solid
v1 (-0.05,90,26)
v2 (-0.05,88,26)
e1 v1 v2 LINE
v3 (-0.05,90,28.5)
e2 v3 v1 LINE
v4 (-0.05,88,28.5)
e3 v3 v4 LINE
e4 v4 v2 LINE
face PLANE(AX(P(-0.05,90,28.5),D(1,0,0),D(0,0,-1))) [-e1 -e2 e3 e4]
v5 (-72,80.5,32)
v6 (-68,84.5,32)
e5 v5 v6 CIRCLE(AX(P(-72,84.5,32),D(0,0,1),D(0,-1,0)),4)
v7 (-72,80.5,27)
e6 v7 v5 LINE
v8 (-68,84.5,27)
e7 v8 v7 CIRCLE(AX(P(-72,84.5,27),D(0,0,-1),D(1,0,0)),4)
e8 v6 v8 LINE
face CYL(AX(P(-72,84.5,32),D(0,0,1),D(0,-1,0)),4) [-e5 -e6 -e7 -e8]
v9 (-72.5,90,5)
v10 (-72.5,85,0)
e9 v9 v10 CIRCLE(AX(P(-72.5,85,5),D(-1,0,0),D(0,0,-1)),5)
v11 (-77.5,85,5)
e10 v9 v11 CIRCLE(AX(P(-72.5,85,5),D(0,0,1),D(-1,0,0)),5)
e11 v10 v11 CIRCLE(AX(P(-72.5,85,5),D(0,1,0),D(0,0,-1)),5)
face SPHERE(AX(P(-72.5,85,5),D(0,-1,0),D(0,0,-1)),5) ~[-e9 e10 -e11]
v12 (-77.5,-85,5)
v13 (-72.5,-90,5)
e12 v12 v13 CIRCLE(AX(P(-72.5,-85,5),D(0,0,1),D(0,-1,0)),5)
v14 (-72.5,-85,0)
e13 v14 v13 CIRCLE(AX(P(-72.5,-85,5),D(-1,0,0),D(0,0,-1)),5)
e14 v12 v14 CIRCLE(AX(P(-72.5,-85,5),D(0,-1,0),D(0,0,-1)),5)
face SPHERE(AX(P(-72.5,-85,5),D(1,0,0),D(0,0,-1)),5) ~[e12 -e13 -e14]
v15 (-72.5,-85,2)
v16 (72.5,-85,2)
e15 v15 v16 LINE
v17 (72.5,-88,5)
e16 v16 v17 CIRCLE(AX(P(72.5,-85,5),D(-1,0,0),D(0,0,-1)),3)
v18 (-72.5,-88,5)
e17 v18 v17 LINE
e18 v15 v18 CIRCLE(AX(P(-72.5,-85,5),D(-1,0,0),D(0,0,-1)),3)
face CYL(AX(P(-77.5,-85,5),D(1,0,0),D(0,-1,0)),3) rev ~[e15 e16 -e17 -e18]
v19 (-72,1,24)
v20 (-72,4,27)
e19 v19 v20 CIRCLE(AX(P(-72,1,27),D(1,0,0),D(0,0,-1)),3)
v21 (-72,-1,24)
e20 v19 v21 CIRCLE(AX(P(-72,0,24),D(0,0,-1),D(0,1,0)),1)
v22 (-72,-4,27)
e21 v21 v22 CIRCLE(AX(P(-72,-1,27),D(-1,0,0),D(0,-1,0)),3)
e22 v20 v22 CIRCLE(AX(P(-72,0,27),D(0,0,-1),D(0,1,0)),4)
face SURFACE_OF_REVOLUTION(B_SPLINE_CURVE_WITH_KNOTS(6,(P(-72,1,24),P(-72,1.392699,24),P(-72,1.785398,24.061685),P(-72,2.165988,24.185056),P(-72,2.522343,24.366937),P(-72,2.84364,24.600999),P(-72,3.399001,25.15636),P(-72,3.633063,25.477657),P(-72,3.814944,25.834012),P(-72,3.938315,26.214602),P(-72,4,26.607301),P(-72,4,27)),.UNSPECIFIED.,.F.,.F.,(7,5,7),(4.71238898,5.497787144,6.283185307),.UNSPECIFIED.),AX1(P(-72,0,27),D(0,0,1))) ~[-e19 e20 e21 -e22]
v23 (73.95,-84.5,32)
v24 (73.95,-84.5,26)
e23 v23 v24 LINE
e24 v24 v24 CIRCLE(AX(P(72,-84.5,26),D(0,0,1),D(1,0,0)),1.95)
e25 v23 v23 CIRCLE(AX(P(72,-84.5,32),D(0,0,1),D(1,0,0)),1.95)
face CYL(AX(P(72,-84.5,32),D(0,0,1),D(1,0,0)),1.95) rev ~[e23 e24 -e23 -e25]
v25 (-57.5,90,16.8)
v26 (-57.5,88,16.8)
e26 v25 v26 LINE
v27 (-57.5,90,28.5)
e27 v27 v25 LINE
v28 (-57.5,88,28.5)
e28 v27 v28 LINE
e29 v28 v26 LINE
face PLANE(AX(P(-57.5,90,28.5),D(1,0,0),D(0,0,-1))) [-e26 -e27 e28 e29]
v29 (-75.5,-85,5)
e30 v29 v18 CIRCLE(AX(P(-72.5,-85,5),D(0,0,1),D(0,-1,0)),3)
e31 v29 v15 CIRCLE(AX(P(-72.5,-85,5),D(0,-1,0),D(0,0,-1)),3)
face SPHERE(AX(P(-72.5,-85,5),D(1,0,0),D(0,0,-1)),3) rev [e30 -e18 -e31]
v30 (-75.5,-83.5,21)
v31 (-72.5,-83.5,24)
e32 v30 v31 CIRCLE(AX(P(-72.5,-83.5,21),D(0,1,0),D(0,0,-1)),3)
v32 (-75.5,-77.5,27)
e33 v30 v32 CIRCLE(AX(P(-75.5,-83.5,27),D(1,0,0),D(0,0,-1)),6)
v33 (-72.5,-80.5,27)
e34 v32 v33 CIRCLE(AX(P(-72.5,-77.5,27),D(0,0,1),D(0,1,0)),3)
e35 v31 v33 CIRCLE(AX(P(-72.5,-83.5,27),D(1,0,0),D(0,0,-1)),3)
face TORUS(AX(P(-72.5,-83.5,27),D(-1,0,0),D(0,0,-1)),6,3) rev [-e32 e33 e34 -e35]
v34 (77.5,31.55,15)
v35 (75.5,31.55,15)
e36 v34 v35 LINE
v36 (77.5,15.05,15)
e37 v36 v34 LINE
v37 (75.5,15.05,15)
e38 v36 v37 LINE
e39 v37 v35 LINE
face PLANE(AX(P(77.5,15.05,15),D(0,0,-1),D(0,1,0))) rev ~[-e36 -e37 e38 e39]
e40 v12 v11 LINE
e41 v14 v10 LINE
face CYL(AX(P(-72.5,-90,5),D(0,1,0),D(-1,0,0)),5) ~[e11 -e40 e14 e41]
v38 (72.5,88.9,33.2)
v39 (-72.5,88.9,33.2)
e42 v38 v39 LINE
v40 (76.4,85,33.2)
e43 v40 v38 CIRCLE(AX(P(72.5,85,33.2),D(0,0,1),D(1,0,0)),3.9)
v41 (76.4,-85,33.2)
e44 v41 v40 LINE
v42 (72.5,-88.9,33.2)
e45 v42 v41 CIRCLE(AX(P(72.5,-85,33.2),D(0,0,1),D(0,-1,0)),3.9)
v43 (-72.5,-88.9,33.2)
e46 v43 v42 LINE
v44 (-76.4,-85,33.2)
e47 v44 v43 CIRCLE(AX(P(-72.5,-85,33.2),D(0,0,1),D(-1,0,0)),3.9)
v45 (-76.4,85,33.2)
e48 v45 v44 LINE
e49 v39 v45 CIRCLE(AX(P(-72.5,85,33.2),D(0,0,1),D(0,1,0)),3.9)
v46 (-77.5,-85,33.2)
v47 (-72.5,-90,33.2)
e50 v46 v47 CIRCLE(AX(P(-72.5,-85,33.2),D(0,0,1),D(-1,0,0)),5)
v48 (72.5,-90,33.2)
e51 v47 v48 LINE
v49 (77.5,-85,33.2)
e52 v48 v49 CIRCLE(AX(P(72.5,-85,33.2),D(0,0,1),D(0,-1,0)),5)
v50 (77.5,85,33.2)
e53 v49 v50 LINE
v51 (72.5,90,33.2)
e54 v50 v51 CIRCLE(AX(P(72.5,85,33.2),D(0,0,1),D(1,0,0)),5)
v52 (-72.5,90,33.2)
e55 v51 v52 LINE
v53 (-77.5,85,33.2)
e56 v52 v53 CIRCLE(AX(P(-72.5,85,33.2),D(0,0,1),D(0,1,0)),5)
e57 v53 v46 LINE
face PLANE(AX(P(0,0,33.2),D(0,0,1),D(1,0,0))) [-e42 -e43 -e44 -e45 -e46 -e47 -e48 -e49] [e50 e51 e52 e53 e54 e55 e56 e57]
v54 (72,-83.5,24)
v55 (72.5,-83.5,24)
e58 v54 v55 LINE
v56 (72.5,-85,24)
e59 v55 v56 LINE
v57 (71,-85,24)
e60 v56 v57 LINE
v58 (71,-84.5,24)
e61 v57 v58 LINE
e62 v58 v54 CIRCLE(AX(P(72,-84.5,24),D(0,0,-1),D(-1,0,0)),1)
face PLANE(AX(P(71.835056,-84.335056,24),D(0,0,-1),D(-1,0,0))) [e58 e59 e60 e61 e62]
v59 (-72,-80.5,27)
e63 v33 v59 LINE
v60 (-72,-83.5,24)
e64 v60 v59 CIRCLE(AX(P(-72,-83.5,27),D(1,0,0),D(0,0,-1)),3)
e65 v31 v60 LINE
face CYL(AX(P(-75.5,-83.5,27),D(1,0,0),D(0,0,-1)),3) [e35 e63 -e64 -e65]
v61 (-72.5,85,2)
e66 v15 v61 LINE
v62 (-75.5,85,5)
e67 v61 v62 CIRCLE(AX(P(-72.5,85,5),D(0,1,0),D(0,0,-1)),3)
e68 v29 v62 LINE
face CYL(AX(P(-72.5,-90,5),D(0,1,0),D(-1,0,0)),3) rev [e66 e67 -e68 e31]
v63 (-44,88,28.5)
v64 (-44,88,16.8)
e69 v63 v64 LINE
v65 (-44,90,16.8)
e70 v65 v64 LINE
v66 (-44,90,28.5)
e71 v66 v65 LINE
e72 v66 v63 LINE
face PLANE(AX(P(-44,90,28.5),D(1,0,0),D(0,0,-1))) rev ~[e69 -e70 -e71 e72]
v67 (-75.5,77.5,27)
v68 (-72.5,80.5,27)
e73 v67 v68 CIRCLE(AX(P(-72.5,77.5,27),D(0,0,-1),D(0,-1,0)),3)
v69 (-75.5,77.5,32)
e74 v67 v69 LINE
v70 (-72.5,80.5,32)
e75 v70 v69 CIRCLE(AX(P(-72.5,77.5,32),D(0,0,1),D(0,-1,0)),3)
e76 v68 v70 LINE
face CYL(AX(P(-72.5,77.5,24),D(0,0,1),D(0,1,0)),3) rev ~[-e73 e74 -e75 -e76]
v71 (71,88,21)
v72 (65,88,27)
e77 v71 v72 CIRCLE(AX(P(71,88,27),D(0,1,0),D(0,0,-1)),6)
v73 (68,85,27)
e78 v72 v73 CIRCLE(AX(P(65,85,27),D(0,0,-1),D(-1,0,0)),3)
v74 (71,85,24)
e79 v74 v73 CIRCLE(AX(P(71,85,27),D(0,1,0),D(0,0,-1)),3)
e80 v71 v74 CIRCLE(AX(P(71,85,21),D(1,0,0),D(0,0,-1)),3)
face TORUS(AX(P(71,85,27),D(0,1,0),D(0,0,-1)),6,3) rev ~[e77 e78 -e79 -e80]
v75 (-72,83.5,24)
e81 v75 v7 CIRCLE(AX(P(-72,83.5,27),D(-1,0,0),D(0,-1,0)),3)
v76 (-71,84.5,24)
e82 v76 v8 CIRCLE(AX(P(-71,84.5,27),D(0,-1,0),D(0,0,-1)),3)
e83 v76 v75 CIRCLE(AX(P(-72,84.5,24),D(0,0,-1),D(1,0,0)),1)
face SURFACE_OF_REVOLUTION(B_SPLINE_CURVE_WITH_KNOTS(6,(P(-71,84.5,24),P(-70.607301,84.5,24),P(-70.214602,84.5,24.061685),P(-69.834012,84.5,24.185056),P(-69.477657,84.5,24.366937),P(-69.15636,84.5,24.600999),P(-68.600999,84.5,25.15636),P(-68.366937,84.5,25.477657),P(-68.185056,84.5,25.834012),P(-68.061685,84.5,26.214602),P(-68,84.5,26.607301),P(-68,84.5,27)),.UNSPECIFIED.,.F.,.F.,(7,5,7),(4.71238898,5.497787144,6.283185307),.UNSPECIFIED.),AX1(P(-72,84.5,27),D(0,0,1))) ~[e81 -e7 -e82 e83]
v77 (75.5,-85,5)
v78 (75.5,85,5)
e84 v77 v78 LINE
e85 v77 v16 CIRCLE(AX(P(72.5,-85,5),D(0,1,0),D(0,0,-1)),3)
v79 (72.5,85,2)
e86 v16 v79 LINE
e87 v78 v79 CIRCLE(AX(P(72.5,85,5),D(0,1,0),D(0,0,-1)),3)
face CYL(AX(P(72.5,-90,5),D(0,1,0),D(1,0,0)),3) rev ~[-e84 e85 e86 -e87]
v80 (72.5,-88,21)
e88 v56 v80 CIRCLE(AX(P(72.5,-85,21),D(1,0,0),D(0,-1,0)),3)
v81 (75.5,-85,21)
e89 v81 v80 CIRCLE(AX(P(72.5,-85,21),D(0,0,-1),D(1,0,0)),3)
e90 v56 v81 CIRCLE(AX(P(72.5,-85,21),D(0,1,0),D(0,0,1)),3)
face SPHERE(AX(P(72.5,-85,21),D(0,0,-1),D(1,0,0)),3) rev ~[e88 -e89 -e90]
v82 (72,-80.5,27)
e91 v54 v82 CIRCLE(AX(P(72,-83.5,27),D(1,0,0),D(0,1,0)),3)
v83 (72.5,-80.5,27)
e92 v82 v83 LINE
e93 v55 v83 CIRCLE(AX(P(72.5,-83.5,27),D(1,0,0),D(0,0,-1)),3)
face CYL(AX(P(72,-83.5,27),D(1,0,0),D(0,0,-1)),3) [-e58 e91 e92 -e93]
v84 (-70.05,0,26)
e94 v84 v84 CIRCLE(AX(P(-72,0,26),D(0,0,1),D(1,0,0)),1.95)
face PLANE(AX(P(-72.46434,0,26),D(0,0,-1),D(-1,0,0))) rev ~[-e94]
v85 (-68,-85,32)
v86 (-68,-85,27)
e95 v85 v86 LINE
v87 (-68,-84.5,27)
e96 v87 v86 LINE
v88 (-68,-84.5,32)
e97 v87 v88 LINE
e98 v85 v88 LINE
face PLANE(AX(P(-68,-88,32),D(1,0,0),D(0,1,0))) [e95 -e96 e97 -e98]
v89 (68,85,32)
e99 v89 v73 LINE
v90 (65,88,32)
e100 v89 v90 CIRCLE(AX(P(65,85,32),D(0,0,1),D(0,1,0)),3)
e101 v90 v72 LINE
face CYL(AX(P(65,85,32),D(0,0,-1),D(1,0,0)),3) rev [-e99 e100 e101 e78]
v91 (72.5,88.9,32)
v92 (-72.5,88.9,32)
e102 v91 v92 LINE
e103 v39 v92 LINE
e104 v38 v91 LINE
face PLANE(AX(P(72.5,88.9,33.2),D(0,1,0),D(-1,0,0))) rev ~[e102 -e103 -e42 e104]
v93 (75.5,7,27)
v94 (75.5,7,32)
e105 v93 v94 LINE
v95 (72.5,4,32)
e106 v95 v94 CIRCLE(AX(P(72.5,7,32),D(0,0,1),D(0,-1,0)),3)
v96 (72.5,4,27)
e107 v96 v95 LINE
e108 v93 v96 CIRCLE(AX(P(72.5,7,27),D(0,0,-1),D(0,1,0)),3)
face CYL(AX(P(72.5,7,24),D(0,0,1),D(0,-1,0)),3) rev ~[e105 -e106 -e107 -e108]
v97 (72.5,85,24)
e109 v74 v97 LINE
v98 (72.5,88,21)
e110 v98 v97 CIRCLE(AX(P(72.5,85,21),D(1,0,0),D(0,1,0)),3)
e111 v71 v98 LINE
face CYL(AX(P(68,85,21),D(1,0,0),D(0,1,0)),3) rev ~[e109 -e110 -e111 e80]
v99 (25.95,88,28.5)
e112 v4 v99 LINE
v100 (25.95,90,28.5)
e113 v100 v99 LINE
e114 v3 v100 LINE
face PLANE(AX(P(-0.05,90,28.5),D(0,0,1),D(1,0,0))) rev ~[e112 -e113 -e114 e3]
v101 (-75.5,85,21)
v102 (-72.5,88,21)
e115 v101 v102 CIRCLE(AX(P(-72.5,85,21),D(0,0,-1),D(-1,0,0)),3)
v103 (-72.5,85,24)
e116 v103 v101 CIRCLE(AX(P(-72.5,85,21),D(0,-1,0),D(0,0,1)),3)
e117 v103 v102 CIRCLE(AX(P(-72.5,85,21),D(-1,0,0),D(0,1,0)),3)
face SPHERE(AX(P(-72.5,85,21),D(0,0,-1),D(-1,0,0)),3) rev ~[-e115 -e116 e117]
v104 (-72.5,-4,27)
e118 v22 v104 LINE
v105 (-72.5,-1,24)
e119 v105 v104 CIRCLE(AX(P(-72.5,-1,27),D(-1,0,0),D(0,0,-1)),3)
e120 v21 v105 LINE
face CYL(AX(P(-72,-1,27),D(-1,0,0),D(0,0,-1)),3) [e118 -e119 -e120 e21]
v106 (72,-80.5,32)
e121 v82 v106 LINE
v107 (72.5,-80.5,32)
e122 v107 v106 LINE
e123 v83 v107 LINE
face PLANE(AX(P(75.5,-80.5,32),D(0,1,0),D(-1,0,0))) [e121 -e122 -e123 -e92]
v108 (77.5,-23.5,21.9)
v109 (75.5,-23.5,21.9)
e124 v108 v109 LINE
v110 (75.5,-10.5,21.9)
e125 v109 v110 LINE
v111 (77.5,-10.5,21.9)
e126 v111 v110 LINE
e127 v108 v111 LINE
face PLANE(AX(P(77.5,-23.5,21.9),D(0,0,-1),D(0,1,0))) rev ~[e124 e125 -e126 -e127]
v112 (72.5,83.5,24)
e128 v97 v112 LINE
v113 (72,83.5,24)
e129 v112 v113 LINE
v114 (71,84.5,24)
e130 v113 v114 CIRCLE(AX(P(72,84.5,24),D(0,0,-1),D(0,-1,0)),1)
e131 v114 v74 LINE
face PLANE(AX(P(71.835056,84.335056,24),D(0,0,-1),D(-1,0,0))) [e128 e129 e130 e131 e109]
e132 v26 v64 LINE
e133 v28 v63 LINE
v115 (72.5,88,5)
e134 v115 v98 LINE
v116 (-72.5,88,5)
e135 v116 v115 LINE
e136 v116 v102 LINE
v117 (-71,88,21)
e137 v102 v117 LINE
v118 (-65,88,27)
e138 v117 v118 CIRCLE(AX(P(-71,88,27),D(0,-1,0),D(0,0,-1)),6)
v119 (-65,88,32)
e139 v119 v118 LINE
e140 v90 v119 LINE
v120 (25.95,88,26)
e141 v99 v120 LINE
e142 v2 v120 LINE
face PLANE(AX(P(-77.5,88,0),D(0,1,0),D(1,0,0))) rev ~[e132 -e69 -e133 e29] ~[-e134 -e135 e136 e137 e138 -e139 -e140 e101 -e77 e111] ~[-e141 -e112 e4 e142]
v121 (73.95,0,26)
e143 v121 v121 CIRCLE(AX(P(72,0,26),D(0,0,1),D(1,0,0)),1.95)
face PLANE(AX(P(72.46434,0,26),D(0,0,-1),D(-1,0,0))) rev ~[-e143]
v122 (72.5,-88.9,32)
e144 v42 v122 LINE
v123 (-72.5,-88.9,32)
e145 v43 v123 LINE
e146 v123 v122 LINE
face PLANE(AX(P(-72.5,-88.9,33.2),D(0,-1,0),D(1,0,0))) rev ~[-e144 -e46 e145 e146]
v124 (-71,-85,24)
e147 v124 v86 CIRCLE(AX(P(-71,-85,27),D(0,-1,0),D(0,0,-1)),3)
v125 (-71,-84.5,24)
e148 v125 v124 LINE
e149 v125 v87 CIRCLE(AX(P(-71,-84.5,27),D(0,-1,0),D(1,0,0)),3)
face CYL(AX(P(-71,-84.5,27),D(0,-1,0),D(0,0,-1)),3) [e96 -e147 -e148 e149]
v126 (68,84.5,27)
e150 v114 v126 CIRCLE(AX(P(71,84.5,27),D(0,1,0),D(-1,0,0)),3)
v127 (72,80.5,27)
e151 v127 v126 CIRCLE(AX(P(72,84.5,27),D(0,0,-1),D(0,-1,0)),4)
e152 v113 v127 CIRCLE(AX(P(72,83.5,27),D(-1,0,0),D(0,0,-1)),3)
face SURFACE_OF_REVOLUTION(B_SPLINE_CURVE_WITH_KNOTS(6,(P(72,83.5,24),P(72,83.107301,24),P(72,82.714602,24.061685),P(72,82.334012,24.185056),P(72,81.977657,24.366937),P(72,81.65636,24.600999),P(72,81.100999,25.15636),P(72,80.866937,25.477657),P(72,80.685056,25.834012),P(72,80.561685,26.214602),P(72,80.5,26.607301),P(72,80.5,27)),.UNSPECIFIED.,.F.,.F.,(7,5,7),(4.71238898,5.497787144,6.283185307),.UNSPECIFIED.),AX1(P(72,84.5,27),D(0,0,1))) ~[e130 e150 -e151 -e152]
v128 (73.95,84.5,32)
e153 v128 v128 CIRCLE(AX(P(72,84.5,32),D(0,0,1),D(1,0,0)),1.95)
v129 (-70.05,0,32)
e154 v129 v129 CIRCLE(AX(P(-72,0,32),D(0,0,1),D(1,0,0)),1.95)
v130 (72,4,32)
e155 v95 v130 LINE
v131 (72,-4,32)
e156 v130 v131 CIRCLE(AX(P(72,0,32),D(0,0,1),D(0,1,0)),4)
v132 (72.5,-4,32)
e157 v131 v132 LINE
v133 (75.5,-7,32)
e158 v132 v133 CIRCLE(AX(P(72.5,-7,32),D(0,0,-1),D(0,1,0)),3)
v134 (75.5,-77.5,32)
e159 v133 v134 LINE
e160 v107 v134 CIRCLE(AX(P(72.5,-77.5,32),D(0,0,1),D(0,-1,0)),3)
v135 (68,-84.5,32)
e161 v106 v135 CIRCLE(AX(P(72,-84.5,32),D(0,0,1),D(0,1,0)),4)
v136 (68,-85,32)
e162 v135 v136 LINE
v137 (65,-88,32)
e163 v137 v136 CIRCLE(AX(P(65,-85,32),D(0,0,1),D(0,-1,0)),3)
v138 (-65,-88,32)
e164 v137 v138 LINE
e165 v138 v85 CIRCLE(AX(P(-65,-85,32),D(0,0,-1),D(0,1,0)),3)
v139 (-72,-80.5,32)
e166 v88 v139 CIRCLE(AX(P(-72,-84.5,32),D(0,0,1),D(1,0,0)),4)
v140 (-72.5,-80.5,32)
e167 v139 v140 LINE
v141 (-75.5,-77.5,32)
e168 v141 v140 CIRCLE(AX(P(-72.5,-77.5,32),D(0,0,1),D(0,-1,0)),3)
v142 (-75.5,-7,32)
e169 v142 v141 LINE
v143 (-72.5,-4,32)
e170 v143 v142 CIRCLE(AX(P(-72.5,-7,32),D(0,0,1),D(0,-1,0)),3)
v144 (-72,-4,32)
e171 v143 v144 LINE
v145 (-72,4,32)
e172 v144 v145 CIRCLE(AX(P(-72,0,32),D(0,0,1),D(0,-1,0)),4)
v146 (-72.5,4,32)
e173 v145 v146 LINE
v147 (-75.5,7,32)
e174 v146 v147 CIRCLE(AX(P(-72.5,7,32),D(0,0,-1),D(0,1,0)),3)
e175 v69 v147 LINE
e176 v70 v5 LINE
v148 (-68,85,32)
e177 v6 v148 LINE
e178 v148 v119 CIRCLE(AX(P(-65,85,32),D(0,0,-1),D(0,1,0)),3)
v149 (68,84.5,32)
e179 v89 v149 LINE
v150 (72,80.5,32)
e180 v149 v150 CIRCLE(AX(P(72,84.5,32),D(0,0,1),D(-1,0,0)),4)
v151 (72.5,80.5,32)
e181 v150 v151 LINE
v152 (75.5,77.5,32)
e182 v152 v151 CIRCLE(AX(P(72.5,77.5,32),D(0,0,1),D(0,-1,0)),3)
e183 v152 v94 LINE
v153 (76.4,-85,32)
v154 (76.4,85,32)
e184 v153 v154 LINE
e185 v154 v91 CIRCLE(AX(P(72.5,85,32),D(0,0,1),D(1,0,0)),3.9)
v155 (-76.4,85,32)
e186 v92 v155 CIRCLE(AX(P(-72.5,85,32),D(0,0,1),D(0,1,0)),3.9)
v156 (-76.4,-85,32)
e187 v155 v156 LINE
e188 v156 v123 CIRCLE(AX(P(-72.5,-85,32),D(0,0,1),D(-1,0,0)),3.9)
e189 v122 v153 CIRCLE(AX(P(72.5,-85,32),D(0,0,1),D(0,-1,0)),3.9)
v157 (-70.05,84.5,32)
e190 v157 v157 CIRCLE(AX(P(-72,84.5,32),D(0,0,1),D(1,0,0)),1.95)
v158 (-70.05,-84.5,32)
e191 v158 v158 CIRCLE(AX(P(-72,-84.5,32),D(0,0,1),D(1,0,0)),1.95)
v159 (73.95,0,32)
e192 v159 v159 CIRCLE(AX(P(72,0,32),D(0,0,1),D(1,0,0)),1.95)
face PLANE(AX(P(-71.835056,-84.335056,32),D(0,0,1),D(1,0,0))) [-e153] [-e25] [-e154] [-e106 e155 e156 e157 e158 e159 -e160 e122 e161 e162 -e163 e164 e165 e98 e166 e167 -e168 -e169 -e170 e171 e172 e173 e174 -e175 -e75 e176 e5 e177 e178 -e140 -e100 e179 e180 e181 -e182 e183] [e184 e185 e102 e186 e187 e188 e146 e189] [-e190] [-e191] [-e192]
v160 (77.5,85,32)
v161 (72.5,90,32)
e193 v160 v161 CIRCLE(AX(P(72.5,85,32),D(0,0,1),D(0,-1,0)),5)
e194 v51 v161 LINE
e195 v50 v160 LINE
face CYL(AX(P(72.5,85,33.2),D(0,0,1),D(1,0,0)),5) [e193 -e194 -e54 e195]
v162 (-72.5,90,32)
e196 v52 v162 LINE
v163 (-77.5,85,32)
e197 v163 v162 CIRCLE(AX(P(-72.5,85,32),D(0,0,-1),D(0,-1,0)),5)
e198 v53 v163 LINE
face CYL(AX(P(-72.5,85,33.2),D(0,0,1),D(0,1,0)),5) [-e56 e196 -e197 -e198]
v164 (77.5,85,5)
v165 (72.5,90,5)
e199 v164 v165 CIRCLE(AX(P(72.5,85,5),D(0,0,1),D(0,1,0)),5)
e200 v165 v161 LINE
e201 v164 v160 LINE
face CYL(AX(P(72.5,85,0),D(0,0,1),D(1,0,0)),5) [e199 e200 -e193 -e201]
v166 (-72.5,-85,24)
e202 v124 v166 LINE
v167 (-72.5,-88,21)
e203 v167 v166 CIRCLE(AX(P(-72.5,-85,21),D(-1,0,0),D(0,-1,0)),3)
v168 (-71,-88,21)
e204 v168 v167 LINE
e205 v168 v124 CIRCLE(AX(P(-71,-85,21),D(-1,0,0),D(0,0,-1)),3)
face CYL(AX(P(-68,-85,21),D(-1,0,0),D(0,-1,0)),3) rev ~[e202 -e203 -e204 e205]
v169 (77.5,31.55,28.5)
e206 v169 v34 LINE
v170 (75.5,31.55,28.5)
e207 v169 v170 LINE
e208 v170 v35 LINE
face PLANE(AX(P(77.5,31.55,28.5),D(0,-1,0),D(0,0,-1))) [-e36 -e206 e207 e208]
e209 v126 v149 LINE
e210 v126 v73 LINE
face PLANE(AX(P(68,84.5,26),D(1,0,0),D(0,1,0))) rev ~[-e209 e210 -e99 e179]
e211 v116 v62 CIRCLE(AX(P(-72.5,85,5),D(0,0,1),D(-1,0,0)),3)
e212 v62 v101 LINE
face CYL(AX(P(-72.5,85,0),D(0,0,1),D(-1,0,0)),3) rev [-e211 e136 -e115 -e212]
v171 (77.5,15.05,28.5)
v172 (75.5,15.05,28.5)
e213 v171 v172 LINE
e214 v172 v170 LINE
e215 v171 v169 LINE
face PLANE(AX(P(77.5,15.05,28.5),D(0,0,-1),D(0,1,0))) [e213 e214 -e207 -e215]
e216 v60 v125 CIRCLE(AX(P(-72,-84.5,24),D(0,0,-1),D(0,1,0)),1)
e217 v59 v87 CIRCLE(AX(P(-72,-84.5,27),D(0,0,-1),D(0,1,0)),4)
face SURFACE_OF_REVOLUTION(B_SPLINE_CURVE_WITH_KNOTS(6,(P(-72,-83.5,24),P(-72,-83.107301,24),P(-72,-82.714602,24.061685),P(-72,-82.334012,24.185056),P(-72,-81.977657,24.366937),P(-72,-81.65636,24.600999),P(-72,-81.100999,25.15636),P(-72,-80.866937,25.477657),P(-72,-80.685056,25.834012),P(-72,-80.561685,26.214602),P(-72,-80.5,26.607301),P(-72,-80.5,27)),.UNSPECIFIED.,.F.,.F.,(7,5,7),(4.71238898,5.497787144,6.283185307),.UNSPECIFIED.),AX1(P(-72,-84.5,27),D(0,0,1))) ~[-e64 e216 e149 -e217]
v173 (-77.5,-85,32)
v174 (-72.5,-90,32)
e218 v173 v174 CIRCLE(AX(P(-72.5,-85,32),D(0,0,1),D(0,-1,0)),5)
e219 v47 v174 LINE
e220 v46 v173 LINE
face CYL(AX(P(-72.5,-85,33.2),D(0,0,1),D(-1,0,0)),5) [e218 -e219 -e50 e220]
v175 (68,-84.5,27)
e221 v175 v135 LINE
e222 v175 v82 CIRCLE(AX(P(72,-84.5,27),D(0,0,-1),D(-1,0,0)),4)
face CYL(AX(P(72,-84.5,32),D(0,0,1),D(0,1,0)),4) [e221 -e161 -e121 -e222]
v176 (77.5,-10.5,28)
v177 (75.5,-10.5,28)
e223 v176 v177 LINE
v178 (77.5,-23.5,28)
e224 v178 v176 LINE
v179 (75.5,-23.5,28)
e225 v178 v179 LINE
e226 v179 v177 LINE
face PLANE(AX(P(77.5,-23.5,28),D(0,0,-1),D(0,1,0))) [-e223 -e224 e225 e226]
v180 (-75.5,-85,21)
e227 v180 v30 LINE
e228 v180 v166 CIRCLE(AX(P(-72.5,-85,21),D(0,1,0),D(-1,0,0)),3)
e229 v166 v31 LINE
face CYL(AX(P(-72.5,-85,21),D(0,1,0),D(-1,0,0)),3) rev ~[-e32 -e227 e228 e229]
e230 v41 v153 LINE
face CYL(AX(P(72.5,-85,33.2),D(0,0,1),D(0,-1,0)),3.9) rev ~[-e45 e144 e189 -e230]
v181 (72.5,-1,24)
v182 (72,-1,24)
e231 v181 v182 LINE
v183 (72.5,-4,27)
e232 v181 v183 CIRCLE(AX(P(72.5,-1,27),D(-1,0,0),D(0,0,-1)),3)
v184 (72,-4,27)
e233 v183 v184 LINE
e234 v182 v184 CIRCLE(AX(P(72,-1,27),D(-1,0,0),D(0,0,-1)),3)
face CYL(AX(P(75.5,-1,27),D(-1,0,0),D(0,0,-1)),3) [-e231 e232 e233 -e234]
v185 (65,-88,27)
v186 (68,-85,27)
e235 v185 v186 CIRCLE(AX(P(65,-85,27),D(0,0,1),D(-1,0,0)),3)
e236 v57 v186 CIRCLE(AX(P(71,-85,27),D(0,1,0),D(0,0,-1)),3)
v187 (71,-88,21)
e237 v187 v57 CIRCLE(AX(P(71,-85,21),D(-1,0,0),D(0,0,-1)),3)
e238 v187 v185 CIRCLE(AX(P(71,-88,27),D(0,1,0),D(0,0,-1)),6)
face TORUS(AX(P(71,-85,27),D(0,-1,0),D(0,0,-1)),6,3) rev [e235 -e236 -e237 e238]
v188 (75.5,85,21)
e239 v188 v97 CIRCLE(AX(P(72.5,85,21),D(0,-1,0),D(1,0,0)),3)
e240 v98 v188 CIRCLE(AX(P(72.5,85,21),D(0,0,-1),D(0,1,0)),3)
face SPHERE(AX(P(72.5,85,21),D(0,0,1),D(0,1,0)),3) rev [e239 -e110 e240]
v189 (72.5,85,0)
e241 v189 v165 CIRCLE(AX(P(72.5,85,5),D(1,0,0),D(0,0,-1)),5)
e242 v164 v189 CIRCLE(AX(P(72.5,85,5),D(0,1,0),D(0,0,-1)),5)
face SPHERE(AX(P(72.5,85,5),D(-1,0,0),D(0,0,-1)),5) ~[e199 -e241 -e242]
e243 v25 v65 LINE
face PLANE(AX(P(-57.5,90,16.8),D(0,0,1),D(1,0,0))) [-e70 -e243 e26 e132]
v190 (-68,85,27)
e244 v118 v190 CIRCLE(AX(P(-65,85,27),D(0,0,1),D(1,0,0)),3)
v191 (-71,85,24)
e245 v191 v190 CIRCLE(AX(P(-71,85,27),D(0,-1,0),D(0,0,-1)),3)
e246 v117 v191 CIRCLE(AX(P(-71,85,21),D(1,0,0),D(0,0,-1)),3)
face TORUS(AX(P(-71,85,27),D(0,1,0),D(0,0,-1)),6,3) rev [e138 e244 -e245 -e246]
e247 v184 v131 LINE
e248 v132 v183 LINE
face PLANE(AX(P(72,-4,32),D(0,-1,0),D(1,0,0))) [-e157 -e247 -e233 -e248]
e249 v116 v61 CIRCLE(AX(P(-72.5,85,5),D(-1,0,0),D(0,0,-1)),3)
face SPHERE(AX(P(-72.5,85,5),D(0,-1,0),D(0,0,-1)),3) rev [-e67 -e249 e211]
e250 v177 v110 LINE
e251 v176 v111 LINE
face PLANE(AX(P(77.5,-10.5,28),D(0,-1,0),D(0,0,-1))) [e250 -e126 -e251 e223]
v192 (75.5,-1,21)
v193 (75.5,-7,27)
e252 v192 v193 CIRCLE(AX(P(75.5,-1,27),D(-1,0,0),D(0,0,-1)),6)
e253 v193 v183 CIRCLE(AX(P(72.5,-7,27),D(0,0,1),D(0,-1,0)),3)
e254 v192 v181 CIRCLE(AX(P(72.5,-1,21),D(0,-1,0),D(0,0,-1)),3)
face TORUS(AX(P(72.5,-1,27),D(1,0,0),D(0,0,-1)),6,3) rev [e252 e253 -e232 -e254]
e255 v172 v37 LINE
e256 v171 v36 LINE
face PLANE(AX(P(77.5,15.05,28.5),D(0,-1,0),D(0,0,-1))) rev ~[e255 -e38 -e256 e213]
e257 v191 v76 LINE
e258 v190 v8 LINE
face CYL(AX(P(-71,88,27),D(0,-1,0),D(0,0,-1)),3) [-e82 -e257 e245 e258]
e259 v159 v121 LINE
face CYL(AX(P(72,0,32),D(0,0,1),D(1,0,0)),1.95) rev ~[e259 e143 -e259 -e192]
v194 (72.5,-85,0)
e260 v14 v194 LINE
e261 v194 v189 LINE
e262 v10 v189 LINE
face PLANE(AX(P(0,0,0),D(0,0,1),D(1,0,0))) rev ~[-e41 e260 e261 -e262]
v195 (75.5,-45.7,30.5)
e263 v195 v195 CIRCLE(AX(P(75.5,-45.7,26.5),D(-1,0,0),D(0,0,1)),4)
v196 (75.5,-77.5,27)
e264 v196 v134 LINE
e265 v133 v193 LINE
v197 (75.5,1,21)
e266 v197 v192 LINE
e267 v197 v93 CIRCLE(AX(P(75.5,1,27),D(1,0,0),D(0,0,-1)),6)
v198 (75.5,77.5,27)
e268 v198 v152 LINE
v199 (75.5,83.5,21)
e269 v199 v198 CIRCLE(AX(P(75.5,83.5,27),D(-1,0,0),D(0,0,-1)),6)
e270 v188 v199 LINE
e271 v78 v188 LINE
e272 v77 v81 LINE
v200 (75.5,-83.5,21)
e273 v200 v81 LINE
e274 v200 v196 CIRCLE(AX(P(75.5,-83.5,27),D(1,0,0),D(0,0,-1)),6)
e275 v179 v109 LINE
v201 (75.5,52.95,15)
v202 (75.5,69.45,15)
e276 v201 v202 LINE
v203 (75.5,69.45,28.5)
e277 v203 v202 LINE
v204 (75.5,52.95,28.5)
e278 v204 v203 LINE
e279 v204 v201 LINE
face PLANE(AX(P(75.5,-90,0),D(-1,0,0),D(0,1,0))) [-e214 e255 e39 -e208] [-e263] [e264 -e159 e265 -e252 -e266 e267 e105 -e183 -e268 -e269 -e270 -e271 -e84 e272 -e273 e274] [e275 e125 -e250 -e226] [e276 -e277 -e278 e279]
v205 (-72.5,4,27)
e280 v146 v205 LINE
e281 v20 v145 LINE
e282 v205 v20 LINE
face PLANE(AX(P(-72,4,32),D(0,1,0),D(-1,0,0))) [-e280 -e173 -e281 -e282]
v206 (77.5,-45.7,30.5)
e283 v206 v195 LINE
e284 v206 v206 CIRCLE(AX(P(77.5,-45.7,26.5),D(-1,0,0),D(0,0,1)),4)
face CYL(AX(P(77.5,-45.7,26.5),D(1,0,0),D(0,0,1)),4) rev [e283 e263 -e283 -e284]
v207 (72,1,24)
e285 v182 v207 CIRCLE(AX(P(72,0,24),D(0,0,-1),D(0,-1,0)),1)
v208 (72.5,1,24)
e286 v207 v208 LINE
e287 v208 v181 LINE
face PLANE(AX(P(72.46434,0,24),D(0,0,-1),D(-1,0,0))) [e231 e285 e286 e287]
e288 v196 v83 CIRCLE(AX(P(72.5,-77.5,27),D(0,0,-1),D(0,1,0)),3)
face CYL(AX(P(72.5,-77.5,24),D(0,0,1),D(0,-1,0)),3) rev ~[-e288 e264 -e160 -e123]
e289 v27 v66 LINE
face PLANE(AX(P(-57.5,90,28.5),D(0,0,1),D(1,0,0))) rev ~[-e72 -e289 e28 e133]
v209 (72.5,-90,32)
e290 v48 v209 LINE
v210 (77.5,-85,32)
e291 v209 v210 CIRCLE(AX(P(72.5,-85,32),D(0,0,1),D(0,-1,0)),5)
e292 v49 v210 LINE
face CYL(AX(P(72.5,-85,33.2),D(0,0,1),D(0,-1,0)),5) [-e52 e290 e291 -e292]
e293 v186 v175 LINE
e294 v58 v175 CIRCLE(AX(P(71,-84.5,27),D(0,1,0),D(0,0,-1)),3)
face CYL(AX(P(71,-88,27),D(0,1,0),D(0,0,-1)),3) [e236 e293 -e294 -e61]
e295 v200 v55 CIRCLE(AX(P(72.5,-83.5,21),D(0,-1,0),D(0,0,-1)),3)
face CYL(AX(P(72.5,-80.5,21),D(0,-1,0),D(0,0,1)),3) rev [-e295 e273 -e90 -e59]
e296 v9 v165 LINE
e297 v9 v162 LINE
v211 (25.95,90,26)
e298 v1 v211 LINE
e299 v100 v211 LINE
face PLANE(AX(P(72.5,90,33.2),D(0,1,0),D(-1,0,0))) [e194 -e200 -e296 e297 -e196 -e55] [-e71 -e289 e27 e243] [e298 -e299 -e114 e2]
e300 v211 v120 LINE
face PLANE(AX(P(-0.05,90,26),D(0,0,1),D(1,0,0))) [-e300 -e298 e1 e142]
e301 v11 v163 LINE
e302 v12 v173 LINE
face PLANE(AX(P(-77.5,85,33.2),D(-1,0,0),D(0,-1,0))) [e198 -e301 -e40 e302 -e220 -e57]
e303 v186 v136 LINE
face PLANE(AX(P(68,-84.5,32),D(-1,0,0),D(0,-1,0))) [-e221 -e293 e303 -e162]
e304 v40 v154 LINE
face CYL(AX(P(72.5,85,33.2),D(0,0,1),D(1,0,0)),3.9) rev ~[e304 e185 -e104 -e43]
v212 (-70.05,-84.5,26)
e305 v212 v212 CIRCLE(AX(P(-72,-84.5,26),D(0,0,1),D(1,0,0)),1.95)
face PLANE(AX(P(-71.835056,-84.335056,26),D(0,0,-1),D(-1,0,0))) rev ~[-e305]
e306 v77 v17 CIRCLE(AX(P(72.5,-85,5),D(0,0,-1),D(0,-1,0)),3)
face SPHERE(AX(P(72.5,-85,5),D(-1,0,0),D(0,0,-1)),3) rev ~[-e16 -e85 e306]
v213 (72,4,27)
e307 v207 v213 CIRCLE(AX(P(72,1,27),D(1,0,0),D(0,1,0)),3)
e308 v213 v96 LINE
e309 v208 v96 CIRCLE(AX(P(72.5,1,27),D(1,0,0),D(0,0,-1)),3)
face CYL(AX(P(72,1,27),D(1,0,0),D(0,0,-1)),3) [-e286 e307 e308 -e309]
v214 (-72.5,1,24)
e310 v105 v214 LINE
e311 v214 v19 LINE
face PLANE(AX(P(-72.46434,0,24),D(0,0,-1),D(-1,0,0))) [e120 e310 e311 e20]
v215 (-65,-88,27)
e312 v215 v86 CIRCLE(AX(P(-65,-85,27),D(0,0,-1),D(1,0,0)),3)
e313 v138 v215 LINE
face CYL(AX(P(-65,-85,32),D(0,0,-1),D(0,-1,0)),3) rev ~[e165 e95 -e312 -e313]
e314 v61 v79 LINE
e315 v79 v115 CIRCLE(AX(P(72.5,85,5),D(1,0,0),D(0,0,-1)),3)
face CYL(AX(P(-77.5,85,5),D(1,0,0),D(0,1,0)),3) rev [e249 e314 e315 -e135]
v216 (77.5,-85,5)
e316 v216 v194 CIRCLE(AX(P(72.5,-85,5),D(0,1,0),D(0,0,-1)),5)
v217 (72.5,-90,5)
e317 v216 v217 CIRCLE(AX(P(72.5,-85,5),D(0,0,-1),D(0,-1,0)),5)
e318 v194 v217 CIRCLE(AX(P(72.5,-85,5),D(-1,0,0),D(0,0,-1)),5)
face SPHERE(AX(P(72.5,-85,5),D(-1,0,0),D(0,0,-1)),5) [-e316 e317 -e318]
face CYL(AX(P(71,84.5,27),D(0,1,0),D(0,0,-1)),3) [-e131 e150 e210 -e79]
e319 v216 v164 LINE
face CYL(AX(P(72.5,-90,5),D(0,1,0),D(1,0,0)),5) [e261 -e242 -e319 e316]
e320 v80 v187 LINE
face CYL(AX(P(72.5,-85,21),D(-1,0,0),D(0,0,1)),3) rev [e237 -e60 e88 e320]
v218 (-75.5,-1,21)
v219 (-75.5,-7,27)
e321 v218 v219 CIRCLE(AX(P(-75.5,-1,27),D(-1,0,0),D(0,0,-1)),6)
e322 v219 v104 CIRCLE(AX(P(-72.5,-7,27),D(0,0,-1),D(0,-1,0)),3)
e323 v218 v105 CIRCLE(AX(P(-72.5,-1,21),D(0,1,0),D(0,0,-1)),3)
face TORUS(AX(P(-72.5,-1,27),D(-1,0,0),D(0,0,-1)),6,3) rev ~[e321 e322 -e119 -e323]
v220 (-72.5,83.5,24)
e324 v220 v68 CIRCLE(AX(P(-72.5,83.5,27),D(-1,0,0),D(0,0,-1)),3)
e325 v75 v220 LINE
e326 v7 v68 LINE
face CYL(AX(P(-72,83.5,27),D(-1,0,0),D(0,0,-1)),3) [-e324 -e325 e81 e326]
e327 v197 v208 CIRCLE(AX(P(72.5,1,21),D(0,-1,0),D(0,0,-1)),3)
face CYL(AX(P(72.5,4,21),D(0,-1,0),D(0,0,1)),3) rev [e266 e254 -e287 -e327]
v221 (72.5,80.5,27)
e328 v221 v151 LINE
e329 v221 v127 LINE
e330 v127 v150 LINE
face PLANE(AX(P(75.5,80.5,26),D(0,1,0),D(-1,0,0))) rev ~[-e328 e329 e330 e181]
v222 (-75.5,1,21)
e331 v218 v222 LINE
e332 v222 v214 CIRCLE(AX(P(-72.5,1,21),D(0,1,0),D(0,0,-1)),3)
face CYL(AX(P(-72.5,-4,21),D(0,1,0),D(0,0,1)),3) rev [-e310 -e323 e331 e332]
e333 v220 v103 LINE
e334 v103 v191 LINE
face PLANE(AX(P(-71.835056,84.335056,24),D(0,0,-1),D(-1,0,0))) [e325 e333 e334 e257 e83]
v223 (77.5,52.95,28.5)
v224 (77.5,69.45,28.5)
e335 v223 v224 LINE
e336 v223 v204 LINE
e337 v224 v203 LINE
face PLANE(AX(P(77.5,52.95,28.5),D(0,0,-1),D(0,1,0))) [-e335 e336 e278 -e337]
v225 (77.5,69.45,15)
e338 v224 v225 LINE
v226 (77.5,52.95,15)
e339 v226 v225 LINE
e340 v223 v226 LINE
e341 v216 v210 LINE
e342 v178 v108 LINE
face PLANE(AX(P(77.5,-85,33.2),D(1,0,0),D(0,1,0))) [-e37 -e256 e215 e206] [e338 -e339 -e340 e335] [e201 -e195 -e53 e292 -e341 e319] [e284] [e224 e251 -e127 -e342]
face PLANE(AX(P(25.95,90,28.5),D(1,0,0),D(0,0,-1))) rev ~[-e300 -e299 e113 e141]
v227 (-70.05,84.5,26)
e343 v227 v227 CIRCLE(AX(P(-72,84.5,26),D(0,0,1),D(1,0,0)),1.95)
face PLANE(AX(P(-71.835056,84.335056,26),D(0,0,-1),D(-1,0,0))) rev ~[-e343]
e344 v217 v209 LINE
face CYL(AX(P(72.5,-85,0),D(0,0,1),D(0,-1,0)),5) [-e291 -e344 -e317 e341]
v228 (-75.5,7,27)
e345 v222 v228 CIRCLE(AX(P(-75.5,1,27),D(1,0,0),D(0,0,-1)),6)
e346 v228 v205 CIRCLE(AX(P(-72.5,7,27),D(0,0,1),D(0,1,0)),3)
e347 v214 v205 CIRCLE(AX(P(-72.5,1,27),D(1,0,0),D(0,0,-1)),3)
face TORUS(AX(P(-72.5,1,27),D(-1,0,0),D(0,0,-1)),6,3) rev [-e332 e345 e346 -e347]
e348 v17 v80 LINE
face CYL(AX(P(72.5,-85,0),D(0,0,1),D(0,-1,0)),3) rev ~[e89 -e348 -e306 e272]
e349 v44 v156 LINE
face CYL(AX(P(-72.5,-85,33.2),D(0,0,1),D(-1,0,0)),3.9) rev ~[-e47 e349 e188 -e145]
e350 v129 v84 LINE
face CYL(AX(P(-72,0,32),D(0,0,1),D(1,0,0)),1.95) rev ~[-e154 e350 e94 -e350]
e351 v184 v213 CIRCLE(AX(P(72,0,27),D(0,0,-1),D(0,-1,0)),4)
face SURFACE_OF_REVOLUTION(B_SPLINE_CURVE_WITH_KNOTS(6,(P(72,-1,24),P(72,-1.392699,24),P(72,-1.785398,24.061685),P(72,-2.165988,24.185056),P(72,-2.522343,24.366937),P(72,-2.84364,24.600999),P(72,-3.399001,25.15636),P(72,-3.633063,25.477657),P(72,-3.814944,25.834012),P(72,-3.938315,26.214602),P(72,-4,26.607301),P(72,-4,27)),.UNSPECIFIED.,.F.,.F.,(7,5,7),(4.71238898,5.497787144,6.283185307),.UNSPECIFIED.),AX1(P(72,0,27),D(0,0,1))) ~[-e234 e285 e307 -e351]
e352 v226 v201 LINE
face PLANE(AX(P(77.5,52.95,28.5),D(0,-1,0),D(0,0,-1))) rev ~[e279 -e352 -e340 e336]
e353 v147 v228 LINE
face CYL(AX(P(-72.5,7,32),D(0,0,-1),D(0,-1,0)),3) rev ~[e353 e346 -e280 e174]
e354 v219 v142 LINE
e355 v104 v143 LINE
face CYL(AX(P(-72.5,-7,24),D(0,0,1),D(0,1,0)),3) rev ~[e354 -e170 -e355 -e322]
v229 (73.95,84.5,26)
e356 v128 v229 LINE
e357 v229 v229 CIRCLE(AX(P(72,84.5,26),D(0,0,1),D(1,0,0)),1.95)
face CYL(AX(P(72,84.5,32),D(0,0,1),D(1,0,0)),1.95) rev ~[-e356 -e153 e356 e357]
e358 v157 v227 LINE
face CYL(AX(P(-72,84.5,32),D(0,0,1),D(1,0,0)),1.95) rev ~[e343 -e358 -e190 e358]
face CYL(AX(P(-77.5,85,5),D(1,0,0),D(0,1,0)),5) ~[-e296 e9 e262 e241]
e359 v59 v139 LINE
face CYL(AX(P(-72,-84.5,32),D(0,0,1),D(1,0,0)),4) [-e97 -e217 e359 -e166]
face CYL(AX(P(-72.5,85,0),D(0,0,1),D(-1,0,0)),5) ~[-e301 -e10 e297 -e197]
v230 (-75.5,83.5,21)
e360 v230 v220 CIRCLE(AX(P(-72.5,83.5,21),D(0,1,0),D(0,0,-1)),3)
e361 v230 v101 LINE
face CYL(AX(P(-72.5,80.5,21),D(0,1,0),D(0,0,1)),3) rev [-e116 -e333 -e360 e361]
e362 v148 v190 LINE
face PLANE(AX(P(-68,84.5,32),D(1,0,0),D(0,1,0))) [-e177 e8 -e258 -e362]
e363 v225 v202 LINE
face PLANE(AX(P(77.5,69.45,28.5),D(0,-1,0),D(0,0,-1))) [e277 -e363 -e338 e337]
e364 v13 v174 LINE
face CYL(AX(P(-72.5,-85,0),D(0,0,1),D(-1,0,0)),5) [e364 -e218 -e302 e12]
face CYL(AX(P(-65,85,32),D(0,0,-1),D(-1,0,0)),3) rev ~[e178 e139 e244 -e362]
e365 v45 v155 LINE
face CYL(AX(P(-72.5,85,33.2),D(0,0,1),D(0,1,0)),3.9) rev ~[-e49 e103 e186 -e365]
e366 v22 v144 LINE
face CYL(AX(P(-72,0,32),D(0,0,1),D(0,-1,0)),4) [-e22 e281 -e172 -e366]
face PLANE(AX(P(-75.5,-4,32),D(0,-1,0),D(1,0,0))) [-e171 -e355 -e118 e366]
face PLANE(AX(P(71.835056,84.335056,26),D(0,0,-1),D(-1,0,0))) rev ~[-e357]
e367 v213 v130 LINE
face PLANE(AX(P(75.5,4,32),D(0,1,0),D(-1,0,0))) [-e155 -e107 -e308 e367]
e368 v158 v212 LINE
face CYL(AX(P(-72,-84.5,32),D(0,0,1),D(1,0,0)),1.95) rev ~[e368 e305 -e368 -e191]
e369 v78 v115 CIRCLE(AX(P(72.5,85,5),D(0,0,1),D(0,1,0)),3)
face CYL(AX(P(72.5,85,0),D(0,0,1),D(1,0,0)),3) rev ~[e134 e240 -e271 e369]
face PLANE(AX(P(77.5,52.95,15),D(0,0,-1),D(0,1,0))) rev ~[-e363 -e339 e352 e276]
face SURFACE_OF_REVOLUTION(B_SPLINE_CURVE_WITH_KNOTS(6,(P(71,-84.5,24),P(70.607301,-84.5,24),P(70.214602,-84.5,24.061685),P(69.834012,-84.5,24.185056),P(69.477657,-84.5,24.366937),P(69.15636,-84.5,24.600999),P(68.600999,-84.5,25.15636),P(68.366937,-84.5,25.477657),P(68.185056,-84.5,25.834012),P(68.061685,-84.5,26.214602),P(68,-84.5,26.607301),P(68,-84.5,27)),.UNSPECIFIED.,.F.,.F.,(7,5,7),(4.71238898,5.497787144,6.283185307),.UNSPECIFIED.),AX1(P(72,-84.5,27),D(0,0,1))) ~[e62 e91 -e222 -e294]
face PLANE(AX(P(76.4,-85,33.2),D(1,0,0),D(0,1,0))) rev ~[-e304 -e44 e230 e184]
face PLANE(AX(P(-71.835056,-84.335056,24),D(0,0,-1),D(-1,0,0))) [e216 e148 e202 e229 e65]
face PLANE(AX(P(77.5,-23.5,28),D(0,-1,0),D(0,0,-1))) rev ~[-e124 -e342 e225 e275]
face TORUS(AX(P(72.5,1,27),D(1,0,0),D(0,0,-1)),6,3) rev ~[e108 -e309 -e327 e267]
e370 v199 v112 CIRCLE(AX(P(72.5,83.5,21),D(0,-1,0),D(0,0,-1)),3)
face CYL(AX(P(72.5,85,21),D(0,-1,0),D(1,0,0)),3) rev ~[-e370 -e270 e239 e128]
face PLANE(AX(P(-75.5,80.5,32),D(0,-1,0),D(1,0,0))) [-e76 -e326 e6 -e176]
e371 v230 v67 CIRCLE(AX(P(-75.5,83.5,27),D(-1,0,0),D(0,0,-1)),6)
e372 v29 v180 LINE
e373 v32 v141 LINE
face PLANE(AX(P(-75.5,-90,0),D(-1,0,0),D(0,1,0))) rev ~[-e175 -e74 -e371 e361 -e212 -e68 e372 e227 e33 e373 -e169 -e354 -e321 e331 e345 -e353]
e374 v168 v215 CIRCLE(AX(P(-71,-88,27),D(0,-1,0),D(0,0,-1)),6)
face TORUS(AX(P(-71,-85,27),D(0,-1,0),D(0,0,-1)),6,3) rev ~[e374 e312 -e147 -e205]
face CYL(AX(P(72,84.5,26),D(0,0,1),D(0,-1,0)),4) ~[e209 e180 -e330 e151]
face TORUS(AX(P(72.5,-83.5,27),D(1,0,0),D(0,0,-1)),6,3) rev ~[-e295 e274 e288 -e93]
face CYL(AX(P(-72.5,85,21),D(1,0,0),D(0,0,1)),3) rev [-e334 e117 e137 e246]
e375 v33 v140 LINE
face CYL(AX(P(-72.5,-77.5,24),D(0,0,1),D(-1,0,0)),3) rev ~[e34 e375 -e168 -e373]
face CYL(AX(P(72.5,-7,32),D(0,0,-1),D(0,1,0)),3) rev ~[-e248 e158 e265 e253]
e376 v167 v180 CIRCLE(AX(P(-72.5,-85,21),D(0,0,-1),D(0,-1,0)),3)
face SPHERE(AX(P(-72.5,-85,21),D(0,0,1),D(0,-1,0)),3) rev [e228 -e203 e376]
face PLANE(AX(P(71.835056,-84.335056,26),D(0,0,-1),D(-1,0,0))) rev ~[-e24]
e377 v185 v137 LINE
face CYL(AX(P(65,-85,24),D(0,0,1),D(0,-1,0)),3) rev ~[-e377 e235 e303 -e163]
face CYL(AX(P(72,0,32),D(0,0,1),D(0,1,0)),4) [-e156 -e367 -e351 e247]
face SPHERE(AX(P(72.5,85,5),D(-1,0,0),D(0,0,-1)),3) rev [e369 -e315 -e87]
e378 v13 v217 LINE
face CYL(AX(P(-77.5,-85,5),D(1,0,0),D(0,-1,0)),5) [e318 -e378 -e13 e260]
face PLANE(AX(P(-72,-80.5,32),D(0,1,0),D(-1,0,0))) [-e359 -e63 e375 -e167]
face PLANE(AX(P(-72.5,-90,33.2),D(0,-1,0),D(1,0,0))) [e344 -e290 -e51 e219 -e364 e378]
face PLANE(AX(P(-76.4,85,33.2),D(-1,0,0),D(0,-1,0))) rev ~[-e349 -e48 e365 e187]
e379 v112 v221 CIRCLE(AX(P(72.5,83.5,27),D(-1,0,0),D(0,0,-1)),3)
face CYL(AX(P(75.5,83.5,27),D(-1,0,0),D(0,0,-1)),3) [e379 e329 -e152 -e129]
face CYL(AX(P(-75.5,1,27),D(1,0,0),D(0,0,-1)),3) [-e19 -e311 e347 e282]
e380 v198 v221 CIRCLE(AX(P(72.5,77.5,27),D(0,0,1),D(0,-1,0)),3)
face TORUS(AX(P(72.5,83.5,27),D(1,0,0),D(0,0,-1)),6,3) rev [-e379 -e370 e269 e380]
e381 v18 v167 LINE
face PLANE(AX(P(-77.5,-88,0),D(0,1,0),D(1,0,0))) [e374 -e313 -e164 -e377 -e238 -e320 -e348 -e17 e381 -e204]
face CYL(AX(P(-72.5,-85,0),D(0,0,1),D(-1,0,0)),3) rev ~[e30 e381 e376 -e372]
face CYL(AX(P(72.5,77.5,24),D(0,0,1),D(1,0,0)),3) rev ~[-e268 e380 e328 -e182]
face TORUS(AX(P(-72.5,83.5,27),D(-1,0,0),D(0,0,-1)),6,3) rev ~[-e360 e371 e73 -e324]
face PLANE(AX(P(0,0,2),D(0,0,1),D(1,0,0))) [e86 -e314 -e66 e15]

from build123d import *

# Parameters (mm, degrees)
SKETCH1_W           = 155
SKETCH1_H           = 180
BOSS_EXTRUDE1_DEPTH = 32
FILLET2_R           = 5
SHELL1_T            = -2
SKETCH2_R           = 1.95
BOSS_EXTRUDE2_DEPTH = 6
BOSS_EXTRUDE3_DEPTH = 2
FILLET1_R           = 3
BOSS_EXTRUDE4_START = 1.2
BOSS_EXTRUDE4_DEPTH = 1.2
SKETCH4_W           = 13.5
SKETCH4_H           = 11.7
CUT_EXTRUDE1_DEPTH  = 2
SKETCH5_W           = 26
SKETCH5_H           = 2.5
CUT_EXTRUDE2_DEPTH  = 2
SKETCH6_W           = 13.5
SKETCH6_H           = 16.5
CUT_EXTRUDE3_DEPTH  = 2
SKETCH7_W           = 6.1
SKETCH7_H           = 13
CUT_EXTRUDE4_DEPTH  = 2
SKETCH8_R           = 4
CUT_EXTRUDE5_DEPTH  = 2


with BuildPart() as part:
    # Sketch1 → Boss-Extrude1 (new body)
    with BuildSketch(Plane.XY):
        Rectangle(SKETCH1_W, SKETCH1_H)
    extrude(amount=BOSS_EXTRUDE1_DEPTH)

    # Fillet2
    fillet2_edges = [part.edges().sort_by_distance(p)[0] for p in [
        (0, -90, 0),
        (-77.5, 0, 0),
        (0, 90, 0),
        (77.5, 0, 0),
        (77.5, -90, 16),
        (-77.5, -90, 16),
        (-77.5, 90, 16),
        (77.5, 90, 16),
    ]]
    fillet(fillet2_edges, radius=FILLET2_R)

    # Shell1
    shell1_openings = [part.faces().sort_by_distance(p)[0] for p in [
        (0, 0, 32),
    ]]
    offset(amount=SHELL1_T, openings=shell1_openings, kind=Kind.INTERSECTION)

    # Sketch2 → Boss-Extrude2 (add)
    # profile 1 of 6: a face of its own
    with BuildSketch(Plane.XY.offset(32)):
        with BuildLine():
            Line((-72, 4), (-75.5, 4))
            Line((-75.5, 4), (-75.5, -4))
            Line((-75.5, -4), (-72, -4))
            ThreePointArc((-72, -4), (-68, 0), (-72, 4))
        make_face()
        with Locations((-72, 0)):
            Circle(SKETCH2_R, mode=Mode.SUBTRACT)
    # profile 2 of 6: a face of its own
    with BuildSketch(Plane.XY.offset(32)):
        with BuildLine():
            Line((-72.5, -88), (-68, -88))
            Line((-68, -88), (-68, -84.5))
            ThreePointArc((-68, -84.5), (-69.171572875, -81.671572875), (-72, -80.5))
            Line((-72, -80.5), (-75.5, -80.5))
            Line((-75.5, -80.5), (-75.5, -85))
            ThreePointArc((-75.5, -85), (-74.621320344, -87.121320344), (-72.5, -88))
        make_face()
        with Locations((-72, -84.5)):
            Circle(SKETCH2_R, mode=Mode.SUBTRACT)
    # profile 3 of 6: a face of its own
    with BuildSketch(Plane.XY.offset(32)):
        with BuildLine():
            Line((75.5, -85), (75.5, -80.5))
            Line((75.5, -80.5), (72, -80.5))
            ThreePointArc((72, -80.5), (69.171572875, -81.671572875), (68, -84.5))
            Line((68, -84.5), (68, -88))
            Line((68, -88), (72.5, -88))
            ThreePointArc((72.5, -88), (74.621320344, -87.121320344), (75.5, -85))
        make_face()
        with Locations((72, -84.5)):
            Circle(SKETCH2_R, mode=Mode.SUBTRACT)
    # profile 4 of 6: a face of its own
    with BuildSketch(Plane.XY.offset(32)):
        with BuildLine():
            Line((75.5, -4), (75.5, 4))
            Line((75.5, 4), (72, 4))
            ThreePointArc((72, 4), (68, 0), (72, -4))
            Line((72, -4), (75.5, -4))
        make_face()
        with Locations((72, 0)):
            Circle(SKETCH2_R, mode=Mode.SUBTRACT)
    # profile 5 of 6: a face of its own
    with BuildSketch(Plane.XY.offset(32)):
        with BuildLine():
            ThreePointArc((68, 84.5), (69.171572875, 81.671572875), (72, 80.5))
            Line((72, 80.5), (75.5, 80.5))
            Line((75.5, 80.5), (75.5, 85))
            ThreePointArc((75.5, 85), (74.621320344, 87.121320344), (72.5, 88))
            Line((72.5, 88), (68, 88))
            Line((68, 88), (68, 84.5))
        make_face()
        with Locations((72, 84.5)):
            Circle(SKETCH2_R, mode=Mode.SUBTRACT)
    # profile 6 of 6: a face of its own
    with BuildSketch(Plane.XY.offset(32)):
        with BuildLine():
            Line((-68, 84.5), (-68, 88))
            Line((-68, 88), (-72.5, 88))
            ThreePointArc((-72.5, 88), (-74.621320344, 87.121320344), (-75.5, 85))
            Line((-75.5, 85), (-75.5, 80.5))
            Line((-75.5, 80.5), (-72, 80.5))
            ThreePointArc((-72, 80.5), (-69.171572875, 81.671572875), (-68, 84.5))
        make_face()
        with Locations((-72, 84.5)):
            Circle(SKETCH2_R, mode=Mode.SUBTRACT)
    extrude(amount=-BOSS_EXTRUDE2_DEPTH)

    # Sketch3 → Boss-Extrude3 (add)
    with BuildSketch(Plane(origin=(0, 0, 26), x_dir=(-1, 0, 0), z_dir=(0, 0, -1))):
        with BuildLine():
            Line((-68, 84.5), (-68, 88))
            Line((-68, 88), (-72.5, 88))
            ThreePointArc((-72.5, 88), (-74.621320344, 87.121320344), (-75.5, 85))
            Line((-75.5, 85), (-75.5, 80.5))
            Line((-75.5, 80.5), (-72, 80.5))
            ThreePointArc((-72, 80.5), (-69.171572875, 81.671572875), (-68, 84.5))
        make_face()
        with BuildLine():
            Line((-72, 4), (-75.5, 4))
            Line((-75.5, 4), (-75.5, -4))
            Line((-75.5, -4), (-72, -4))
            ThreePointArc((-72, -4), (-68, 0), (-72, 4))
        make_face()
        with BuildLine():
            Line((72, 80.5), (75.5, 80.5))
            Line((75.5, 80.5), (75.5, 85))
            ThreePointArc((75.5, 85), (74.621320344, 87.121320344), (72.5, 88))
            Line((72.5, 88), (68, 88))
            Line((68, 88), (68, 84.5))
            ThreePointArc((68, 84.5), (69.171572875, 81.671572875), (72, 80.5))
        make_face()
        with BuildLine():
            Line((72, -4), (75.5, -4))
            Line((75.5, -4), (75.5, 4))
            Line((75.5, 4), (72, 4))
            ThreePointArc((72, 4), (68, 0), (72, -4))
        make_face()
        with BuildLine():
            Line((68, -84.5), (68, -88))
            Line((68, -88), (72.5, -88))
            ThreePointArc((72.5, -88), (74.621320344, -87.121320344), (75.5, -85))
            Line((75.5, -85), (75.5, -80.5))
            Line((75.5, -80.5), (72, -80.5))
            ThreePointArc((72, -80.5), (69.171572875, -81.671572875), (68, -84.5))
        make_face()
        with BuildLine():
            Line((-72, -80.5), (-75.5, -80.5))
            Line((-75.5, -80.5), (-75.5, -85))
            ThreePointArc((-75.5, -85), (-74.621320344, -87.121320344), (-72.5, -88))
            Line((-72.5, -88), (-68, -88))
            Line((-68, -88), (-68, -84.5))
            ThreePointArc((-68, -84.5), (-69.171572875, -81.671572875), (-72, -80.5))
        make_face()
    extrude(amount=BOSS_EXTRUDE3_DEPTH)

    # Fillet1
    fillet1_edges = [part.edges().sort_by_distance(p)[0] for p in [
        (75.5, -80.5, 28),
        (68, -88, 28),
        (75.5, 4, 28),
        (75.5, -4, 28),
        (68, 88, 28),
        (75.5, 80.5, 28),
        (-75.5, 80.5, 28),
        (-68, 88, 28),
        (69.171572875, 81.671572875, 24),
        (68, 86.25, 24),
        (70.25, 88, 24),
        (74.621320344, 87.121320344, 24),
        (75.5, 82.75, 24),
        (73.75, 80.5, 24),
        (68, 0, 24),
        (73.75, 4, 24),
        (75.5, 0, 24),
        (73.75, -4, 24),
        (-69.171572875, -81.671572875, 24),
        (-68, -86.25, 24),
        (-70.25, -88, 24),
        (-74.621320344, -87.121320344, 24),
        (-75.5, -82.75, 24),
        (-73.75, -80.5, 24),
        (-69.171572875, 81.671572875, 24),
        (-73.75, 80.5, 24),
        (-75.5, 82.75, 24),
        (-74.621320344, 87.121320344, 24),
        (-70.25, 88, 24),
        (-68, 86.25, 24),
        (-68, 0, 24),
        (-73.75, -4, 24),
        (-75.5, 0, 24),
        (-73.75, 4, 24),
        (69.171572875, -81.671572875, 24),
        (73.75, -80.5, 24),
        (75.5, -82.75, 24),
        (74.621320344, -87.121320344, 24),
        (70.25, -88, 24),
        (68, -86.25, 24),
        (-75.5, -4, 28),
        (-75.5, 4, 28),
        (-68, -88, 28),
        (-75.5, -80.5, 28),
    ]]
    fillet(fillet1_edges, radius=FILLET1_R)

    # Sketch12 → Boss-Extrude4 (add)
    with BuildSketch(Plane.XY.offset(32).offset(BOSS_EXTRUDE4_START)):
        with BuildLine():
            Line((-77.5, 85), (-77.5, -85))
            ThreePointArc((-77.5, -85), (-76.035533906, -88.535533906), (-72.5, -90))
            Line((-72.5, -90), (72.5, -90))
            ThreePointArc((72.5, -90), (76.035533906, -88.535533906), (77.5, -85))
            Line((77.5, -85), (77.5, 85))
            ThreePointArc((77.5, 85), (76.035533906, 88.535533906), (72.5, 90))
            Line((72.5, 90), (-72.5, 90))
            ThreePointArc((-72.5, 90), (-76.035533906, 88.535533906), (-77.5, 85))
        make_face()
        with BuildLine():
            Line((-76.4, 85), (-76.4, -85))
            ThreePointArc((-76.4, -85), (-75.257716447, -87.757716447), (-72.5, -88.9))
            Line((-72.5, -88.9), (72.5, -88.9))
            ThreePointArc((72.5, -88.9), (75.257716447, -87.757716447), (76.4, -85))
            Line((76.4, -85), (76.4, 85))
            ThreePointArc((76.4, 85), (75.257716447, 87.757716447), (72.5, 88.9))
            Line((72.5, 88.9), (-72.5, 88.9))
            ThreePointArc((-72.5, 88.9), (-75.257716447, 87.757716447), (-76.4, 85))
        make_face(mode=Mode.SUBTRACT)
    extrude(amount=-BOSS_EXTRUDE4_DEPTH)

    # Sketch4 → Cut-Extrude1 (cut)
    with BuildSketch(Plane(origin=(0, 90, 0), x_dir=(1, 0, 0), z_dir=(0, 1, 0))):
        with Locations((-50.75, -22.65)):
            Rectangle(SKETCH4_W, SKETCH4_H)
    extrude(amount=-CUT_EXTRUDE1_DEPTH, mode=Mode.SUBTRACT)

    # Sketch5 → Cut-Extrude2 (cut)
    with BuildSketch(Plane(origin=(0, 90, 0), x_dir=(1, 0, 0), z_dir=(0, 1, 0))):
        with Locations((12.95, -27.25)):
            Rectangle(SKETCH5_W, SKETCH5_H)
    extrude(amount=-CUT_EXTRUDE2_DEPTH, mode=Mode.SUBTRACT)

    # Sketch6 → Cut-Extrude3 (cut)
    with BuildSketch(Plane(origin=(77.5, 0, 0), x_dir=(0, 0, -1), z_dir=(1, 0, 0))):
        with Locations((-21.75, 61.2)):
            Rectangle(SKETCH6_W, SKETCH6_H)
        with Locations((-21.75, 23.3)):
            Rectangle(SKETCH6_W, SKETCH6_H)
    extrude(amount=-CUT_EXTRUDE3_DEPTH, mode=Mode.SUBTRACT)

    # Sketch7 → Cut-Extrude4 (cut)
    with BuildSketch(Plane(origin=(77.5, 0, 0), x_dir=(0, 0, -1), z_dir=(1, 0, 0))):
        with Locations((-24.95, -17)):
            Rectangle(SKETCH7_W, SKETCH7_H)
    extrude(amount=-CUT_EXTRUDE4_DEPTH, mode=Mode.SUBTRACT)

    # Sketch8 → Cut-Extrude5 (cut)
    with BuildSketch(Plane.ZY.offset(-77.5)):
        with Locations((26.5, -45.7)):
            Circle(SKETCH8_R)
    extrude(amount=CUT_EXTRUDE5_DEPTH, mode=Mode.SUBTRACT)


solid = part.part
